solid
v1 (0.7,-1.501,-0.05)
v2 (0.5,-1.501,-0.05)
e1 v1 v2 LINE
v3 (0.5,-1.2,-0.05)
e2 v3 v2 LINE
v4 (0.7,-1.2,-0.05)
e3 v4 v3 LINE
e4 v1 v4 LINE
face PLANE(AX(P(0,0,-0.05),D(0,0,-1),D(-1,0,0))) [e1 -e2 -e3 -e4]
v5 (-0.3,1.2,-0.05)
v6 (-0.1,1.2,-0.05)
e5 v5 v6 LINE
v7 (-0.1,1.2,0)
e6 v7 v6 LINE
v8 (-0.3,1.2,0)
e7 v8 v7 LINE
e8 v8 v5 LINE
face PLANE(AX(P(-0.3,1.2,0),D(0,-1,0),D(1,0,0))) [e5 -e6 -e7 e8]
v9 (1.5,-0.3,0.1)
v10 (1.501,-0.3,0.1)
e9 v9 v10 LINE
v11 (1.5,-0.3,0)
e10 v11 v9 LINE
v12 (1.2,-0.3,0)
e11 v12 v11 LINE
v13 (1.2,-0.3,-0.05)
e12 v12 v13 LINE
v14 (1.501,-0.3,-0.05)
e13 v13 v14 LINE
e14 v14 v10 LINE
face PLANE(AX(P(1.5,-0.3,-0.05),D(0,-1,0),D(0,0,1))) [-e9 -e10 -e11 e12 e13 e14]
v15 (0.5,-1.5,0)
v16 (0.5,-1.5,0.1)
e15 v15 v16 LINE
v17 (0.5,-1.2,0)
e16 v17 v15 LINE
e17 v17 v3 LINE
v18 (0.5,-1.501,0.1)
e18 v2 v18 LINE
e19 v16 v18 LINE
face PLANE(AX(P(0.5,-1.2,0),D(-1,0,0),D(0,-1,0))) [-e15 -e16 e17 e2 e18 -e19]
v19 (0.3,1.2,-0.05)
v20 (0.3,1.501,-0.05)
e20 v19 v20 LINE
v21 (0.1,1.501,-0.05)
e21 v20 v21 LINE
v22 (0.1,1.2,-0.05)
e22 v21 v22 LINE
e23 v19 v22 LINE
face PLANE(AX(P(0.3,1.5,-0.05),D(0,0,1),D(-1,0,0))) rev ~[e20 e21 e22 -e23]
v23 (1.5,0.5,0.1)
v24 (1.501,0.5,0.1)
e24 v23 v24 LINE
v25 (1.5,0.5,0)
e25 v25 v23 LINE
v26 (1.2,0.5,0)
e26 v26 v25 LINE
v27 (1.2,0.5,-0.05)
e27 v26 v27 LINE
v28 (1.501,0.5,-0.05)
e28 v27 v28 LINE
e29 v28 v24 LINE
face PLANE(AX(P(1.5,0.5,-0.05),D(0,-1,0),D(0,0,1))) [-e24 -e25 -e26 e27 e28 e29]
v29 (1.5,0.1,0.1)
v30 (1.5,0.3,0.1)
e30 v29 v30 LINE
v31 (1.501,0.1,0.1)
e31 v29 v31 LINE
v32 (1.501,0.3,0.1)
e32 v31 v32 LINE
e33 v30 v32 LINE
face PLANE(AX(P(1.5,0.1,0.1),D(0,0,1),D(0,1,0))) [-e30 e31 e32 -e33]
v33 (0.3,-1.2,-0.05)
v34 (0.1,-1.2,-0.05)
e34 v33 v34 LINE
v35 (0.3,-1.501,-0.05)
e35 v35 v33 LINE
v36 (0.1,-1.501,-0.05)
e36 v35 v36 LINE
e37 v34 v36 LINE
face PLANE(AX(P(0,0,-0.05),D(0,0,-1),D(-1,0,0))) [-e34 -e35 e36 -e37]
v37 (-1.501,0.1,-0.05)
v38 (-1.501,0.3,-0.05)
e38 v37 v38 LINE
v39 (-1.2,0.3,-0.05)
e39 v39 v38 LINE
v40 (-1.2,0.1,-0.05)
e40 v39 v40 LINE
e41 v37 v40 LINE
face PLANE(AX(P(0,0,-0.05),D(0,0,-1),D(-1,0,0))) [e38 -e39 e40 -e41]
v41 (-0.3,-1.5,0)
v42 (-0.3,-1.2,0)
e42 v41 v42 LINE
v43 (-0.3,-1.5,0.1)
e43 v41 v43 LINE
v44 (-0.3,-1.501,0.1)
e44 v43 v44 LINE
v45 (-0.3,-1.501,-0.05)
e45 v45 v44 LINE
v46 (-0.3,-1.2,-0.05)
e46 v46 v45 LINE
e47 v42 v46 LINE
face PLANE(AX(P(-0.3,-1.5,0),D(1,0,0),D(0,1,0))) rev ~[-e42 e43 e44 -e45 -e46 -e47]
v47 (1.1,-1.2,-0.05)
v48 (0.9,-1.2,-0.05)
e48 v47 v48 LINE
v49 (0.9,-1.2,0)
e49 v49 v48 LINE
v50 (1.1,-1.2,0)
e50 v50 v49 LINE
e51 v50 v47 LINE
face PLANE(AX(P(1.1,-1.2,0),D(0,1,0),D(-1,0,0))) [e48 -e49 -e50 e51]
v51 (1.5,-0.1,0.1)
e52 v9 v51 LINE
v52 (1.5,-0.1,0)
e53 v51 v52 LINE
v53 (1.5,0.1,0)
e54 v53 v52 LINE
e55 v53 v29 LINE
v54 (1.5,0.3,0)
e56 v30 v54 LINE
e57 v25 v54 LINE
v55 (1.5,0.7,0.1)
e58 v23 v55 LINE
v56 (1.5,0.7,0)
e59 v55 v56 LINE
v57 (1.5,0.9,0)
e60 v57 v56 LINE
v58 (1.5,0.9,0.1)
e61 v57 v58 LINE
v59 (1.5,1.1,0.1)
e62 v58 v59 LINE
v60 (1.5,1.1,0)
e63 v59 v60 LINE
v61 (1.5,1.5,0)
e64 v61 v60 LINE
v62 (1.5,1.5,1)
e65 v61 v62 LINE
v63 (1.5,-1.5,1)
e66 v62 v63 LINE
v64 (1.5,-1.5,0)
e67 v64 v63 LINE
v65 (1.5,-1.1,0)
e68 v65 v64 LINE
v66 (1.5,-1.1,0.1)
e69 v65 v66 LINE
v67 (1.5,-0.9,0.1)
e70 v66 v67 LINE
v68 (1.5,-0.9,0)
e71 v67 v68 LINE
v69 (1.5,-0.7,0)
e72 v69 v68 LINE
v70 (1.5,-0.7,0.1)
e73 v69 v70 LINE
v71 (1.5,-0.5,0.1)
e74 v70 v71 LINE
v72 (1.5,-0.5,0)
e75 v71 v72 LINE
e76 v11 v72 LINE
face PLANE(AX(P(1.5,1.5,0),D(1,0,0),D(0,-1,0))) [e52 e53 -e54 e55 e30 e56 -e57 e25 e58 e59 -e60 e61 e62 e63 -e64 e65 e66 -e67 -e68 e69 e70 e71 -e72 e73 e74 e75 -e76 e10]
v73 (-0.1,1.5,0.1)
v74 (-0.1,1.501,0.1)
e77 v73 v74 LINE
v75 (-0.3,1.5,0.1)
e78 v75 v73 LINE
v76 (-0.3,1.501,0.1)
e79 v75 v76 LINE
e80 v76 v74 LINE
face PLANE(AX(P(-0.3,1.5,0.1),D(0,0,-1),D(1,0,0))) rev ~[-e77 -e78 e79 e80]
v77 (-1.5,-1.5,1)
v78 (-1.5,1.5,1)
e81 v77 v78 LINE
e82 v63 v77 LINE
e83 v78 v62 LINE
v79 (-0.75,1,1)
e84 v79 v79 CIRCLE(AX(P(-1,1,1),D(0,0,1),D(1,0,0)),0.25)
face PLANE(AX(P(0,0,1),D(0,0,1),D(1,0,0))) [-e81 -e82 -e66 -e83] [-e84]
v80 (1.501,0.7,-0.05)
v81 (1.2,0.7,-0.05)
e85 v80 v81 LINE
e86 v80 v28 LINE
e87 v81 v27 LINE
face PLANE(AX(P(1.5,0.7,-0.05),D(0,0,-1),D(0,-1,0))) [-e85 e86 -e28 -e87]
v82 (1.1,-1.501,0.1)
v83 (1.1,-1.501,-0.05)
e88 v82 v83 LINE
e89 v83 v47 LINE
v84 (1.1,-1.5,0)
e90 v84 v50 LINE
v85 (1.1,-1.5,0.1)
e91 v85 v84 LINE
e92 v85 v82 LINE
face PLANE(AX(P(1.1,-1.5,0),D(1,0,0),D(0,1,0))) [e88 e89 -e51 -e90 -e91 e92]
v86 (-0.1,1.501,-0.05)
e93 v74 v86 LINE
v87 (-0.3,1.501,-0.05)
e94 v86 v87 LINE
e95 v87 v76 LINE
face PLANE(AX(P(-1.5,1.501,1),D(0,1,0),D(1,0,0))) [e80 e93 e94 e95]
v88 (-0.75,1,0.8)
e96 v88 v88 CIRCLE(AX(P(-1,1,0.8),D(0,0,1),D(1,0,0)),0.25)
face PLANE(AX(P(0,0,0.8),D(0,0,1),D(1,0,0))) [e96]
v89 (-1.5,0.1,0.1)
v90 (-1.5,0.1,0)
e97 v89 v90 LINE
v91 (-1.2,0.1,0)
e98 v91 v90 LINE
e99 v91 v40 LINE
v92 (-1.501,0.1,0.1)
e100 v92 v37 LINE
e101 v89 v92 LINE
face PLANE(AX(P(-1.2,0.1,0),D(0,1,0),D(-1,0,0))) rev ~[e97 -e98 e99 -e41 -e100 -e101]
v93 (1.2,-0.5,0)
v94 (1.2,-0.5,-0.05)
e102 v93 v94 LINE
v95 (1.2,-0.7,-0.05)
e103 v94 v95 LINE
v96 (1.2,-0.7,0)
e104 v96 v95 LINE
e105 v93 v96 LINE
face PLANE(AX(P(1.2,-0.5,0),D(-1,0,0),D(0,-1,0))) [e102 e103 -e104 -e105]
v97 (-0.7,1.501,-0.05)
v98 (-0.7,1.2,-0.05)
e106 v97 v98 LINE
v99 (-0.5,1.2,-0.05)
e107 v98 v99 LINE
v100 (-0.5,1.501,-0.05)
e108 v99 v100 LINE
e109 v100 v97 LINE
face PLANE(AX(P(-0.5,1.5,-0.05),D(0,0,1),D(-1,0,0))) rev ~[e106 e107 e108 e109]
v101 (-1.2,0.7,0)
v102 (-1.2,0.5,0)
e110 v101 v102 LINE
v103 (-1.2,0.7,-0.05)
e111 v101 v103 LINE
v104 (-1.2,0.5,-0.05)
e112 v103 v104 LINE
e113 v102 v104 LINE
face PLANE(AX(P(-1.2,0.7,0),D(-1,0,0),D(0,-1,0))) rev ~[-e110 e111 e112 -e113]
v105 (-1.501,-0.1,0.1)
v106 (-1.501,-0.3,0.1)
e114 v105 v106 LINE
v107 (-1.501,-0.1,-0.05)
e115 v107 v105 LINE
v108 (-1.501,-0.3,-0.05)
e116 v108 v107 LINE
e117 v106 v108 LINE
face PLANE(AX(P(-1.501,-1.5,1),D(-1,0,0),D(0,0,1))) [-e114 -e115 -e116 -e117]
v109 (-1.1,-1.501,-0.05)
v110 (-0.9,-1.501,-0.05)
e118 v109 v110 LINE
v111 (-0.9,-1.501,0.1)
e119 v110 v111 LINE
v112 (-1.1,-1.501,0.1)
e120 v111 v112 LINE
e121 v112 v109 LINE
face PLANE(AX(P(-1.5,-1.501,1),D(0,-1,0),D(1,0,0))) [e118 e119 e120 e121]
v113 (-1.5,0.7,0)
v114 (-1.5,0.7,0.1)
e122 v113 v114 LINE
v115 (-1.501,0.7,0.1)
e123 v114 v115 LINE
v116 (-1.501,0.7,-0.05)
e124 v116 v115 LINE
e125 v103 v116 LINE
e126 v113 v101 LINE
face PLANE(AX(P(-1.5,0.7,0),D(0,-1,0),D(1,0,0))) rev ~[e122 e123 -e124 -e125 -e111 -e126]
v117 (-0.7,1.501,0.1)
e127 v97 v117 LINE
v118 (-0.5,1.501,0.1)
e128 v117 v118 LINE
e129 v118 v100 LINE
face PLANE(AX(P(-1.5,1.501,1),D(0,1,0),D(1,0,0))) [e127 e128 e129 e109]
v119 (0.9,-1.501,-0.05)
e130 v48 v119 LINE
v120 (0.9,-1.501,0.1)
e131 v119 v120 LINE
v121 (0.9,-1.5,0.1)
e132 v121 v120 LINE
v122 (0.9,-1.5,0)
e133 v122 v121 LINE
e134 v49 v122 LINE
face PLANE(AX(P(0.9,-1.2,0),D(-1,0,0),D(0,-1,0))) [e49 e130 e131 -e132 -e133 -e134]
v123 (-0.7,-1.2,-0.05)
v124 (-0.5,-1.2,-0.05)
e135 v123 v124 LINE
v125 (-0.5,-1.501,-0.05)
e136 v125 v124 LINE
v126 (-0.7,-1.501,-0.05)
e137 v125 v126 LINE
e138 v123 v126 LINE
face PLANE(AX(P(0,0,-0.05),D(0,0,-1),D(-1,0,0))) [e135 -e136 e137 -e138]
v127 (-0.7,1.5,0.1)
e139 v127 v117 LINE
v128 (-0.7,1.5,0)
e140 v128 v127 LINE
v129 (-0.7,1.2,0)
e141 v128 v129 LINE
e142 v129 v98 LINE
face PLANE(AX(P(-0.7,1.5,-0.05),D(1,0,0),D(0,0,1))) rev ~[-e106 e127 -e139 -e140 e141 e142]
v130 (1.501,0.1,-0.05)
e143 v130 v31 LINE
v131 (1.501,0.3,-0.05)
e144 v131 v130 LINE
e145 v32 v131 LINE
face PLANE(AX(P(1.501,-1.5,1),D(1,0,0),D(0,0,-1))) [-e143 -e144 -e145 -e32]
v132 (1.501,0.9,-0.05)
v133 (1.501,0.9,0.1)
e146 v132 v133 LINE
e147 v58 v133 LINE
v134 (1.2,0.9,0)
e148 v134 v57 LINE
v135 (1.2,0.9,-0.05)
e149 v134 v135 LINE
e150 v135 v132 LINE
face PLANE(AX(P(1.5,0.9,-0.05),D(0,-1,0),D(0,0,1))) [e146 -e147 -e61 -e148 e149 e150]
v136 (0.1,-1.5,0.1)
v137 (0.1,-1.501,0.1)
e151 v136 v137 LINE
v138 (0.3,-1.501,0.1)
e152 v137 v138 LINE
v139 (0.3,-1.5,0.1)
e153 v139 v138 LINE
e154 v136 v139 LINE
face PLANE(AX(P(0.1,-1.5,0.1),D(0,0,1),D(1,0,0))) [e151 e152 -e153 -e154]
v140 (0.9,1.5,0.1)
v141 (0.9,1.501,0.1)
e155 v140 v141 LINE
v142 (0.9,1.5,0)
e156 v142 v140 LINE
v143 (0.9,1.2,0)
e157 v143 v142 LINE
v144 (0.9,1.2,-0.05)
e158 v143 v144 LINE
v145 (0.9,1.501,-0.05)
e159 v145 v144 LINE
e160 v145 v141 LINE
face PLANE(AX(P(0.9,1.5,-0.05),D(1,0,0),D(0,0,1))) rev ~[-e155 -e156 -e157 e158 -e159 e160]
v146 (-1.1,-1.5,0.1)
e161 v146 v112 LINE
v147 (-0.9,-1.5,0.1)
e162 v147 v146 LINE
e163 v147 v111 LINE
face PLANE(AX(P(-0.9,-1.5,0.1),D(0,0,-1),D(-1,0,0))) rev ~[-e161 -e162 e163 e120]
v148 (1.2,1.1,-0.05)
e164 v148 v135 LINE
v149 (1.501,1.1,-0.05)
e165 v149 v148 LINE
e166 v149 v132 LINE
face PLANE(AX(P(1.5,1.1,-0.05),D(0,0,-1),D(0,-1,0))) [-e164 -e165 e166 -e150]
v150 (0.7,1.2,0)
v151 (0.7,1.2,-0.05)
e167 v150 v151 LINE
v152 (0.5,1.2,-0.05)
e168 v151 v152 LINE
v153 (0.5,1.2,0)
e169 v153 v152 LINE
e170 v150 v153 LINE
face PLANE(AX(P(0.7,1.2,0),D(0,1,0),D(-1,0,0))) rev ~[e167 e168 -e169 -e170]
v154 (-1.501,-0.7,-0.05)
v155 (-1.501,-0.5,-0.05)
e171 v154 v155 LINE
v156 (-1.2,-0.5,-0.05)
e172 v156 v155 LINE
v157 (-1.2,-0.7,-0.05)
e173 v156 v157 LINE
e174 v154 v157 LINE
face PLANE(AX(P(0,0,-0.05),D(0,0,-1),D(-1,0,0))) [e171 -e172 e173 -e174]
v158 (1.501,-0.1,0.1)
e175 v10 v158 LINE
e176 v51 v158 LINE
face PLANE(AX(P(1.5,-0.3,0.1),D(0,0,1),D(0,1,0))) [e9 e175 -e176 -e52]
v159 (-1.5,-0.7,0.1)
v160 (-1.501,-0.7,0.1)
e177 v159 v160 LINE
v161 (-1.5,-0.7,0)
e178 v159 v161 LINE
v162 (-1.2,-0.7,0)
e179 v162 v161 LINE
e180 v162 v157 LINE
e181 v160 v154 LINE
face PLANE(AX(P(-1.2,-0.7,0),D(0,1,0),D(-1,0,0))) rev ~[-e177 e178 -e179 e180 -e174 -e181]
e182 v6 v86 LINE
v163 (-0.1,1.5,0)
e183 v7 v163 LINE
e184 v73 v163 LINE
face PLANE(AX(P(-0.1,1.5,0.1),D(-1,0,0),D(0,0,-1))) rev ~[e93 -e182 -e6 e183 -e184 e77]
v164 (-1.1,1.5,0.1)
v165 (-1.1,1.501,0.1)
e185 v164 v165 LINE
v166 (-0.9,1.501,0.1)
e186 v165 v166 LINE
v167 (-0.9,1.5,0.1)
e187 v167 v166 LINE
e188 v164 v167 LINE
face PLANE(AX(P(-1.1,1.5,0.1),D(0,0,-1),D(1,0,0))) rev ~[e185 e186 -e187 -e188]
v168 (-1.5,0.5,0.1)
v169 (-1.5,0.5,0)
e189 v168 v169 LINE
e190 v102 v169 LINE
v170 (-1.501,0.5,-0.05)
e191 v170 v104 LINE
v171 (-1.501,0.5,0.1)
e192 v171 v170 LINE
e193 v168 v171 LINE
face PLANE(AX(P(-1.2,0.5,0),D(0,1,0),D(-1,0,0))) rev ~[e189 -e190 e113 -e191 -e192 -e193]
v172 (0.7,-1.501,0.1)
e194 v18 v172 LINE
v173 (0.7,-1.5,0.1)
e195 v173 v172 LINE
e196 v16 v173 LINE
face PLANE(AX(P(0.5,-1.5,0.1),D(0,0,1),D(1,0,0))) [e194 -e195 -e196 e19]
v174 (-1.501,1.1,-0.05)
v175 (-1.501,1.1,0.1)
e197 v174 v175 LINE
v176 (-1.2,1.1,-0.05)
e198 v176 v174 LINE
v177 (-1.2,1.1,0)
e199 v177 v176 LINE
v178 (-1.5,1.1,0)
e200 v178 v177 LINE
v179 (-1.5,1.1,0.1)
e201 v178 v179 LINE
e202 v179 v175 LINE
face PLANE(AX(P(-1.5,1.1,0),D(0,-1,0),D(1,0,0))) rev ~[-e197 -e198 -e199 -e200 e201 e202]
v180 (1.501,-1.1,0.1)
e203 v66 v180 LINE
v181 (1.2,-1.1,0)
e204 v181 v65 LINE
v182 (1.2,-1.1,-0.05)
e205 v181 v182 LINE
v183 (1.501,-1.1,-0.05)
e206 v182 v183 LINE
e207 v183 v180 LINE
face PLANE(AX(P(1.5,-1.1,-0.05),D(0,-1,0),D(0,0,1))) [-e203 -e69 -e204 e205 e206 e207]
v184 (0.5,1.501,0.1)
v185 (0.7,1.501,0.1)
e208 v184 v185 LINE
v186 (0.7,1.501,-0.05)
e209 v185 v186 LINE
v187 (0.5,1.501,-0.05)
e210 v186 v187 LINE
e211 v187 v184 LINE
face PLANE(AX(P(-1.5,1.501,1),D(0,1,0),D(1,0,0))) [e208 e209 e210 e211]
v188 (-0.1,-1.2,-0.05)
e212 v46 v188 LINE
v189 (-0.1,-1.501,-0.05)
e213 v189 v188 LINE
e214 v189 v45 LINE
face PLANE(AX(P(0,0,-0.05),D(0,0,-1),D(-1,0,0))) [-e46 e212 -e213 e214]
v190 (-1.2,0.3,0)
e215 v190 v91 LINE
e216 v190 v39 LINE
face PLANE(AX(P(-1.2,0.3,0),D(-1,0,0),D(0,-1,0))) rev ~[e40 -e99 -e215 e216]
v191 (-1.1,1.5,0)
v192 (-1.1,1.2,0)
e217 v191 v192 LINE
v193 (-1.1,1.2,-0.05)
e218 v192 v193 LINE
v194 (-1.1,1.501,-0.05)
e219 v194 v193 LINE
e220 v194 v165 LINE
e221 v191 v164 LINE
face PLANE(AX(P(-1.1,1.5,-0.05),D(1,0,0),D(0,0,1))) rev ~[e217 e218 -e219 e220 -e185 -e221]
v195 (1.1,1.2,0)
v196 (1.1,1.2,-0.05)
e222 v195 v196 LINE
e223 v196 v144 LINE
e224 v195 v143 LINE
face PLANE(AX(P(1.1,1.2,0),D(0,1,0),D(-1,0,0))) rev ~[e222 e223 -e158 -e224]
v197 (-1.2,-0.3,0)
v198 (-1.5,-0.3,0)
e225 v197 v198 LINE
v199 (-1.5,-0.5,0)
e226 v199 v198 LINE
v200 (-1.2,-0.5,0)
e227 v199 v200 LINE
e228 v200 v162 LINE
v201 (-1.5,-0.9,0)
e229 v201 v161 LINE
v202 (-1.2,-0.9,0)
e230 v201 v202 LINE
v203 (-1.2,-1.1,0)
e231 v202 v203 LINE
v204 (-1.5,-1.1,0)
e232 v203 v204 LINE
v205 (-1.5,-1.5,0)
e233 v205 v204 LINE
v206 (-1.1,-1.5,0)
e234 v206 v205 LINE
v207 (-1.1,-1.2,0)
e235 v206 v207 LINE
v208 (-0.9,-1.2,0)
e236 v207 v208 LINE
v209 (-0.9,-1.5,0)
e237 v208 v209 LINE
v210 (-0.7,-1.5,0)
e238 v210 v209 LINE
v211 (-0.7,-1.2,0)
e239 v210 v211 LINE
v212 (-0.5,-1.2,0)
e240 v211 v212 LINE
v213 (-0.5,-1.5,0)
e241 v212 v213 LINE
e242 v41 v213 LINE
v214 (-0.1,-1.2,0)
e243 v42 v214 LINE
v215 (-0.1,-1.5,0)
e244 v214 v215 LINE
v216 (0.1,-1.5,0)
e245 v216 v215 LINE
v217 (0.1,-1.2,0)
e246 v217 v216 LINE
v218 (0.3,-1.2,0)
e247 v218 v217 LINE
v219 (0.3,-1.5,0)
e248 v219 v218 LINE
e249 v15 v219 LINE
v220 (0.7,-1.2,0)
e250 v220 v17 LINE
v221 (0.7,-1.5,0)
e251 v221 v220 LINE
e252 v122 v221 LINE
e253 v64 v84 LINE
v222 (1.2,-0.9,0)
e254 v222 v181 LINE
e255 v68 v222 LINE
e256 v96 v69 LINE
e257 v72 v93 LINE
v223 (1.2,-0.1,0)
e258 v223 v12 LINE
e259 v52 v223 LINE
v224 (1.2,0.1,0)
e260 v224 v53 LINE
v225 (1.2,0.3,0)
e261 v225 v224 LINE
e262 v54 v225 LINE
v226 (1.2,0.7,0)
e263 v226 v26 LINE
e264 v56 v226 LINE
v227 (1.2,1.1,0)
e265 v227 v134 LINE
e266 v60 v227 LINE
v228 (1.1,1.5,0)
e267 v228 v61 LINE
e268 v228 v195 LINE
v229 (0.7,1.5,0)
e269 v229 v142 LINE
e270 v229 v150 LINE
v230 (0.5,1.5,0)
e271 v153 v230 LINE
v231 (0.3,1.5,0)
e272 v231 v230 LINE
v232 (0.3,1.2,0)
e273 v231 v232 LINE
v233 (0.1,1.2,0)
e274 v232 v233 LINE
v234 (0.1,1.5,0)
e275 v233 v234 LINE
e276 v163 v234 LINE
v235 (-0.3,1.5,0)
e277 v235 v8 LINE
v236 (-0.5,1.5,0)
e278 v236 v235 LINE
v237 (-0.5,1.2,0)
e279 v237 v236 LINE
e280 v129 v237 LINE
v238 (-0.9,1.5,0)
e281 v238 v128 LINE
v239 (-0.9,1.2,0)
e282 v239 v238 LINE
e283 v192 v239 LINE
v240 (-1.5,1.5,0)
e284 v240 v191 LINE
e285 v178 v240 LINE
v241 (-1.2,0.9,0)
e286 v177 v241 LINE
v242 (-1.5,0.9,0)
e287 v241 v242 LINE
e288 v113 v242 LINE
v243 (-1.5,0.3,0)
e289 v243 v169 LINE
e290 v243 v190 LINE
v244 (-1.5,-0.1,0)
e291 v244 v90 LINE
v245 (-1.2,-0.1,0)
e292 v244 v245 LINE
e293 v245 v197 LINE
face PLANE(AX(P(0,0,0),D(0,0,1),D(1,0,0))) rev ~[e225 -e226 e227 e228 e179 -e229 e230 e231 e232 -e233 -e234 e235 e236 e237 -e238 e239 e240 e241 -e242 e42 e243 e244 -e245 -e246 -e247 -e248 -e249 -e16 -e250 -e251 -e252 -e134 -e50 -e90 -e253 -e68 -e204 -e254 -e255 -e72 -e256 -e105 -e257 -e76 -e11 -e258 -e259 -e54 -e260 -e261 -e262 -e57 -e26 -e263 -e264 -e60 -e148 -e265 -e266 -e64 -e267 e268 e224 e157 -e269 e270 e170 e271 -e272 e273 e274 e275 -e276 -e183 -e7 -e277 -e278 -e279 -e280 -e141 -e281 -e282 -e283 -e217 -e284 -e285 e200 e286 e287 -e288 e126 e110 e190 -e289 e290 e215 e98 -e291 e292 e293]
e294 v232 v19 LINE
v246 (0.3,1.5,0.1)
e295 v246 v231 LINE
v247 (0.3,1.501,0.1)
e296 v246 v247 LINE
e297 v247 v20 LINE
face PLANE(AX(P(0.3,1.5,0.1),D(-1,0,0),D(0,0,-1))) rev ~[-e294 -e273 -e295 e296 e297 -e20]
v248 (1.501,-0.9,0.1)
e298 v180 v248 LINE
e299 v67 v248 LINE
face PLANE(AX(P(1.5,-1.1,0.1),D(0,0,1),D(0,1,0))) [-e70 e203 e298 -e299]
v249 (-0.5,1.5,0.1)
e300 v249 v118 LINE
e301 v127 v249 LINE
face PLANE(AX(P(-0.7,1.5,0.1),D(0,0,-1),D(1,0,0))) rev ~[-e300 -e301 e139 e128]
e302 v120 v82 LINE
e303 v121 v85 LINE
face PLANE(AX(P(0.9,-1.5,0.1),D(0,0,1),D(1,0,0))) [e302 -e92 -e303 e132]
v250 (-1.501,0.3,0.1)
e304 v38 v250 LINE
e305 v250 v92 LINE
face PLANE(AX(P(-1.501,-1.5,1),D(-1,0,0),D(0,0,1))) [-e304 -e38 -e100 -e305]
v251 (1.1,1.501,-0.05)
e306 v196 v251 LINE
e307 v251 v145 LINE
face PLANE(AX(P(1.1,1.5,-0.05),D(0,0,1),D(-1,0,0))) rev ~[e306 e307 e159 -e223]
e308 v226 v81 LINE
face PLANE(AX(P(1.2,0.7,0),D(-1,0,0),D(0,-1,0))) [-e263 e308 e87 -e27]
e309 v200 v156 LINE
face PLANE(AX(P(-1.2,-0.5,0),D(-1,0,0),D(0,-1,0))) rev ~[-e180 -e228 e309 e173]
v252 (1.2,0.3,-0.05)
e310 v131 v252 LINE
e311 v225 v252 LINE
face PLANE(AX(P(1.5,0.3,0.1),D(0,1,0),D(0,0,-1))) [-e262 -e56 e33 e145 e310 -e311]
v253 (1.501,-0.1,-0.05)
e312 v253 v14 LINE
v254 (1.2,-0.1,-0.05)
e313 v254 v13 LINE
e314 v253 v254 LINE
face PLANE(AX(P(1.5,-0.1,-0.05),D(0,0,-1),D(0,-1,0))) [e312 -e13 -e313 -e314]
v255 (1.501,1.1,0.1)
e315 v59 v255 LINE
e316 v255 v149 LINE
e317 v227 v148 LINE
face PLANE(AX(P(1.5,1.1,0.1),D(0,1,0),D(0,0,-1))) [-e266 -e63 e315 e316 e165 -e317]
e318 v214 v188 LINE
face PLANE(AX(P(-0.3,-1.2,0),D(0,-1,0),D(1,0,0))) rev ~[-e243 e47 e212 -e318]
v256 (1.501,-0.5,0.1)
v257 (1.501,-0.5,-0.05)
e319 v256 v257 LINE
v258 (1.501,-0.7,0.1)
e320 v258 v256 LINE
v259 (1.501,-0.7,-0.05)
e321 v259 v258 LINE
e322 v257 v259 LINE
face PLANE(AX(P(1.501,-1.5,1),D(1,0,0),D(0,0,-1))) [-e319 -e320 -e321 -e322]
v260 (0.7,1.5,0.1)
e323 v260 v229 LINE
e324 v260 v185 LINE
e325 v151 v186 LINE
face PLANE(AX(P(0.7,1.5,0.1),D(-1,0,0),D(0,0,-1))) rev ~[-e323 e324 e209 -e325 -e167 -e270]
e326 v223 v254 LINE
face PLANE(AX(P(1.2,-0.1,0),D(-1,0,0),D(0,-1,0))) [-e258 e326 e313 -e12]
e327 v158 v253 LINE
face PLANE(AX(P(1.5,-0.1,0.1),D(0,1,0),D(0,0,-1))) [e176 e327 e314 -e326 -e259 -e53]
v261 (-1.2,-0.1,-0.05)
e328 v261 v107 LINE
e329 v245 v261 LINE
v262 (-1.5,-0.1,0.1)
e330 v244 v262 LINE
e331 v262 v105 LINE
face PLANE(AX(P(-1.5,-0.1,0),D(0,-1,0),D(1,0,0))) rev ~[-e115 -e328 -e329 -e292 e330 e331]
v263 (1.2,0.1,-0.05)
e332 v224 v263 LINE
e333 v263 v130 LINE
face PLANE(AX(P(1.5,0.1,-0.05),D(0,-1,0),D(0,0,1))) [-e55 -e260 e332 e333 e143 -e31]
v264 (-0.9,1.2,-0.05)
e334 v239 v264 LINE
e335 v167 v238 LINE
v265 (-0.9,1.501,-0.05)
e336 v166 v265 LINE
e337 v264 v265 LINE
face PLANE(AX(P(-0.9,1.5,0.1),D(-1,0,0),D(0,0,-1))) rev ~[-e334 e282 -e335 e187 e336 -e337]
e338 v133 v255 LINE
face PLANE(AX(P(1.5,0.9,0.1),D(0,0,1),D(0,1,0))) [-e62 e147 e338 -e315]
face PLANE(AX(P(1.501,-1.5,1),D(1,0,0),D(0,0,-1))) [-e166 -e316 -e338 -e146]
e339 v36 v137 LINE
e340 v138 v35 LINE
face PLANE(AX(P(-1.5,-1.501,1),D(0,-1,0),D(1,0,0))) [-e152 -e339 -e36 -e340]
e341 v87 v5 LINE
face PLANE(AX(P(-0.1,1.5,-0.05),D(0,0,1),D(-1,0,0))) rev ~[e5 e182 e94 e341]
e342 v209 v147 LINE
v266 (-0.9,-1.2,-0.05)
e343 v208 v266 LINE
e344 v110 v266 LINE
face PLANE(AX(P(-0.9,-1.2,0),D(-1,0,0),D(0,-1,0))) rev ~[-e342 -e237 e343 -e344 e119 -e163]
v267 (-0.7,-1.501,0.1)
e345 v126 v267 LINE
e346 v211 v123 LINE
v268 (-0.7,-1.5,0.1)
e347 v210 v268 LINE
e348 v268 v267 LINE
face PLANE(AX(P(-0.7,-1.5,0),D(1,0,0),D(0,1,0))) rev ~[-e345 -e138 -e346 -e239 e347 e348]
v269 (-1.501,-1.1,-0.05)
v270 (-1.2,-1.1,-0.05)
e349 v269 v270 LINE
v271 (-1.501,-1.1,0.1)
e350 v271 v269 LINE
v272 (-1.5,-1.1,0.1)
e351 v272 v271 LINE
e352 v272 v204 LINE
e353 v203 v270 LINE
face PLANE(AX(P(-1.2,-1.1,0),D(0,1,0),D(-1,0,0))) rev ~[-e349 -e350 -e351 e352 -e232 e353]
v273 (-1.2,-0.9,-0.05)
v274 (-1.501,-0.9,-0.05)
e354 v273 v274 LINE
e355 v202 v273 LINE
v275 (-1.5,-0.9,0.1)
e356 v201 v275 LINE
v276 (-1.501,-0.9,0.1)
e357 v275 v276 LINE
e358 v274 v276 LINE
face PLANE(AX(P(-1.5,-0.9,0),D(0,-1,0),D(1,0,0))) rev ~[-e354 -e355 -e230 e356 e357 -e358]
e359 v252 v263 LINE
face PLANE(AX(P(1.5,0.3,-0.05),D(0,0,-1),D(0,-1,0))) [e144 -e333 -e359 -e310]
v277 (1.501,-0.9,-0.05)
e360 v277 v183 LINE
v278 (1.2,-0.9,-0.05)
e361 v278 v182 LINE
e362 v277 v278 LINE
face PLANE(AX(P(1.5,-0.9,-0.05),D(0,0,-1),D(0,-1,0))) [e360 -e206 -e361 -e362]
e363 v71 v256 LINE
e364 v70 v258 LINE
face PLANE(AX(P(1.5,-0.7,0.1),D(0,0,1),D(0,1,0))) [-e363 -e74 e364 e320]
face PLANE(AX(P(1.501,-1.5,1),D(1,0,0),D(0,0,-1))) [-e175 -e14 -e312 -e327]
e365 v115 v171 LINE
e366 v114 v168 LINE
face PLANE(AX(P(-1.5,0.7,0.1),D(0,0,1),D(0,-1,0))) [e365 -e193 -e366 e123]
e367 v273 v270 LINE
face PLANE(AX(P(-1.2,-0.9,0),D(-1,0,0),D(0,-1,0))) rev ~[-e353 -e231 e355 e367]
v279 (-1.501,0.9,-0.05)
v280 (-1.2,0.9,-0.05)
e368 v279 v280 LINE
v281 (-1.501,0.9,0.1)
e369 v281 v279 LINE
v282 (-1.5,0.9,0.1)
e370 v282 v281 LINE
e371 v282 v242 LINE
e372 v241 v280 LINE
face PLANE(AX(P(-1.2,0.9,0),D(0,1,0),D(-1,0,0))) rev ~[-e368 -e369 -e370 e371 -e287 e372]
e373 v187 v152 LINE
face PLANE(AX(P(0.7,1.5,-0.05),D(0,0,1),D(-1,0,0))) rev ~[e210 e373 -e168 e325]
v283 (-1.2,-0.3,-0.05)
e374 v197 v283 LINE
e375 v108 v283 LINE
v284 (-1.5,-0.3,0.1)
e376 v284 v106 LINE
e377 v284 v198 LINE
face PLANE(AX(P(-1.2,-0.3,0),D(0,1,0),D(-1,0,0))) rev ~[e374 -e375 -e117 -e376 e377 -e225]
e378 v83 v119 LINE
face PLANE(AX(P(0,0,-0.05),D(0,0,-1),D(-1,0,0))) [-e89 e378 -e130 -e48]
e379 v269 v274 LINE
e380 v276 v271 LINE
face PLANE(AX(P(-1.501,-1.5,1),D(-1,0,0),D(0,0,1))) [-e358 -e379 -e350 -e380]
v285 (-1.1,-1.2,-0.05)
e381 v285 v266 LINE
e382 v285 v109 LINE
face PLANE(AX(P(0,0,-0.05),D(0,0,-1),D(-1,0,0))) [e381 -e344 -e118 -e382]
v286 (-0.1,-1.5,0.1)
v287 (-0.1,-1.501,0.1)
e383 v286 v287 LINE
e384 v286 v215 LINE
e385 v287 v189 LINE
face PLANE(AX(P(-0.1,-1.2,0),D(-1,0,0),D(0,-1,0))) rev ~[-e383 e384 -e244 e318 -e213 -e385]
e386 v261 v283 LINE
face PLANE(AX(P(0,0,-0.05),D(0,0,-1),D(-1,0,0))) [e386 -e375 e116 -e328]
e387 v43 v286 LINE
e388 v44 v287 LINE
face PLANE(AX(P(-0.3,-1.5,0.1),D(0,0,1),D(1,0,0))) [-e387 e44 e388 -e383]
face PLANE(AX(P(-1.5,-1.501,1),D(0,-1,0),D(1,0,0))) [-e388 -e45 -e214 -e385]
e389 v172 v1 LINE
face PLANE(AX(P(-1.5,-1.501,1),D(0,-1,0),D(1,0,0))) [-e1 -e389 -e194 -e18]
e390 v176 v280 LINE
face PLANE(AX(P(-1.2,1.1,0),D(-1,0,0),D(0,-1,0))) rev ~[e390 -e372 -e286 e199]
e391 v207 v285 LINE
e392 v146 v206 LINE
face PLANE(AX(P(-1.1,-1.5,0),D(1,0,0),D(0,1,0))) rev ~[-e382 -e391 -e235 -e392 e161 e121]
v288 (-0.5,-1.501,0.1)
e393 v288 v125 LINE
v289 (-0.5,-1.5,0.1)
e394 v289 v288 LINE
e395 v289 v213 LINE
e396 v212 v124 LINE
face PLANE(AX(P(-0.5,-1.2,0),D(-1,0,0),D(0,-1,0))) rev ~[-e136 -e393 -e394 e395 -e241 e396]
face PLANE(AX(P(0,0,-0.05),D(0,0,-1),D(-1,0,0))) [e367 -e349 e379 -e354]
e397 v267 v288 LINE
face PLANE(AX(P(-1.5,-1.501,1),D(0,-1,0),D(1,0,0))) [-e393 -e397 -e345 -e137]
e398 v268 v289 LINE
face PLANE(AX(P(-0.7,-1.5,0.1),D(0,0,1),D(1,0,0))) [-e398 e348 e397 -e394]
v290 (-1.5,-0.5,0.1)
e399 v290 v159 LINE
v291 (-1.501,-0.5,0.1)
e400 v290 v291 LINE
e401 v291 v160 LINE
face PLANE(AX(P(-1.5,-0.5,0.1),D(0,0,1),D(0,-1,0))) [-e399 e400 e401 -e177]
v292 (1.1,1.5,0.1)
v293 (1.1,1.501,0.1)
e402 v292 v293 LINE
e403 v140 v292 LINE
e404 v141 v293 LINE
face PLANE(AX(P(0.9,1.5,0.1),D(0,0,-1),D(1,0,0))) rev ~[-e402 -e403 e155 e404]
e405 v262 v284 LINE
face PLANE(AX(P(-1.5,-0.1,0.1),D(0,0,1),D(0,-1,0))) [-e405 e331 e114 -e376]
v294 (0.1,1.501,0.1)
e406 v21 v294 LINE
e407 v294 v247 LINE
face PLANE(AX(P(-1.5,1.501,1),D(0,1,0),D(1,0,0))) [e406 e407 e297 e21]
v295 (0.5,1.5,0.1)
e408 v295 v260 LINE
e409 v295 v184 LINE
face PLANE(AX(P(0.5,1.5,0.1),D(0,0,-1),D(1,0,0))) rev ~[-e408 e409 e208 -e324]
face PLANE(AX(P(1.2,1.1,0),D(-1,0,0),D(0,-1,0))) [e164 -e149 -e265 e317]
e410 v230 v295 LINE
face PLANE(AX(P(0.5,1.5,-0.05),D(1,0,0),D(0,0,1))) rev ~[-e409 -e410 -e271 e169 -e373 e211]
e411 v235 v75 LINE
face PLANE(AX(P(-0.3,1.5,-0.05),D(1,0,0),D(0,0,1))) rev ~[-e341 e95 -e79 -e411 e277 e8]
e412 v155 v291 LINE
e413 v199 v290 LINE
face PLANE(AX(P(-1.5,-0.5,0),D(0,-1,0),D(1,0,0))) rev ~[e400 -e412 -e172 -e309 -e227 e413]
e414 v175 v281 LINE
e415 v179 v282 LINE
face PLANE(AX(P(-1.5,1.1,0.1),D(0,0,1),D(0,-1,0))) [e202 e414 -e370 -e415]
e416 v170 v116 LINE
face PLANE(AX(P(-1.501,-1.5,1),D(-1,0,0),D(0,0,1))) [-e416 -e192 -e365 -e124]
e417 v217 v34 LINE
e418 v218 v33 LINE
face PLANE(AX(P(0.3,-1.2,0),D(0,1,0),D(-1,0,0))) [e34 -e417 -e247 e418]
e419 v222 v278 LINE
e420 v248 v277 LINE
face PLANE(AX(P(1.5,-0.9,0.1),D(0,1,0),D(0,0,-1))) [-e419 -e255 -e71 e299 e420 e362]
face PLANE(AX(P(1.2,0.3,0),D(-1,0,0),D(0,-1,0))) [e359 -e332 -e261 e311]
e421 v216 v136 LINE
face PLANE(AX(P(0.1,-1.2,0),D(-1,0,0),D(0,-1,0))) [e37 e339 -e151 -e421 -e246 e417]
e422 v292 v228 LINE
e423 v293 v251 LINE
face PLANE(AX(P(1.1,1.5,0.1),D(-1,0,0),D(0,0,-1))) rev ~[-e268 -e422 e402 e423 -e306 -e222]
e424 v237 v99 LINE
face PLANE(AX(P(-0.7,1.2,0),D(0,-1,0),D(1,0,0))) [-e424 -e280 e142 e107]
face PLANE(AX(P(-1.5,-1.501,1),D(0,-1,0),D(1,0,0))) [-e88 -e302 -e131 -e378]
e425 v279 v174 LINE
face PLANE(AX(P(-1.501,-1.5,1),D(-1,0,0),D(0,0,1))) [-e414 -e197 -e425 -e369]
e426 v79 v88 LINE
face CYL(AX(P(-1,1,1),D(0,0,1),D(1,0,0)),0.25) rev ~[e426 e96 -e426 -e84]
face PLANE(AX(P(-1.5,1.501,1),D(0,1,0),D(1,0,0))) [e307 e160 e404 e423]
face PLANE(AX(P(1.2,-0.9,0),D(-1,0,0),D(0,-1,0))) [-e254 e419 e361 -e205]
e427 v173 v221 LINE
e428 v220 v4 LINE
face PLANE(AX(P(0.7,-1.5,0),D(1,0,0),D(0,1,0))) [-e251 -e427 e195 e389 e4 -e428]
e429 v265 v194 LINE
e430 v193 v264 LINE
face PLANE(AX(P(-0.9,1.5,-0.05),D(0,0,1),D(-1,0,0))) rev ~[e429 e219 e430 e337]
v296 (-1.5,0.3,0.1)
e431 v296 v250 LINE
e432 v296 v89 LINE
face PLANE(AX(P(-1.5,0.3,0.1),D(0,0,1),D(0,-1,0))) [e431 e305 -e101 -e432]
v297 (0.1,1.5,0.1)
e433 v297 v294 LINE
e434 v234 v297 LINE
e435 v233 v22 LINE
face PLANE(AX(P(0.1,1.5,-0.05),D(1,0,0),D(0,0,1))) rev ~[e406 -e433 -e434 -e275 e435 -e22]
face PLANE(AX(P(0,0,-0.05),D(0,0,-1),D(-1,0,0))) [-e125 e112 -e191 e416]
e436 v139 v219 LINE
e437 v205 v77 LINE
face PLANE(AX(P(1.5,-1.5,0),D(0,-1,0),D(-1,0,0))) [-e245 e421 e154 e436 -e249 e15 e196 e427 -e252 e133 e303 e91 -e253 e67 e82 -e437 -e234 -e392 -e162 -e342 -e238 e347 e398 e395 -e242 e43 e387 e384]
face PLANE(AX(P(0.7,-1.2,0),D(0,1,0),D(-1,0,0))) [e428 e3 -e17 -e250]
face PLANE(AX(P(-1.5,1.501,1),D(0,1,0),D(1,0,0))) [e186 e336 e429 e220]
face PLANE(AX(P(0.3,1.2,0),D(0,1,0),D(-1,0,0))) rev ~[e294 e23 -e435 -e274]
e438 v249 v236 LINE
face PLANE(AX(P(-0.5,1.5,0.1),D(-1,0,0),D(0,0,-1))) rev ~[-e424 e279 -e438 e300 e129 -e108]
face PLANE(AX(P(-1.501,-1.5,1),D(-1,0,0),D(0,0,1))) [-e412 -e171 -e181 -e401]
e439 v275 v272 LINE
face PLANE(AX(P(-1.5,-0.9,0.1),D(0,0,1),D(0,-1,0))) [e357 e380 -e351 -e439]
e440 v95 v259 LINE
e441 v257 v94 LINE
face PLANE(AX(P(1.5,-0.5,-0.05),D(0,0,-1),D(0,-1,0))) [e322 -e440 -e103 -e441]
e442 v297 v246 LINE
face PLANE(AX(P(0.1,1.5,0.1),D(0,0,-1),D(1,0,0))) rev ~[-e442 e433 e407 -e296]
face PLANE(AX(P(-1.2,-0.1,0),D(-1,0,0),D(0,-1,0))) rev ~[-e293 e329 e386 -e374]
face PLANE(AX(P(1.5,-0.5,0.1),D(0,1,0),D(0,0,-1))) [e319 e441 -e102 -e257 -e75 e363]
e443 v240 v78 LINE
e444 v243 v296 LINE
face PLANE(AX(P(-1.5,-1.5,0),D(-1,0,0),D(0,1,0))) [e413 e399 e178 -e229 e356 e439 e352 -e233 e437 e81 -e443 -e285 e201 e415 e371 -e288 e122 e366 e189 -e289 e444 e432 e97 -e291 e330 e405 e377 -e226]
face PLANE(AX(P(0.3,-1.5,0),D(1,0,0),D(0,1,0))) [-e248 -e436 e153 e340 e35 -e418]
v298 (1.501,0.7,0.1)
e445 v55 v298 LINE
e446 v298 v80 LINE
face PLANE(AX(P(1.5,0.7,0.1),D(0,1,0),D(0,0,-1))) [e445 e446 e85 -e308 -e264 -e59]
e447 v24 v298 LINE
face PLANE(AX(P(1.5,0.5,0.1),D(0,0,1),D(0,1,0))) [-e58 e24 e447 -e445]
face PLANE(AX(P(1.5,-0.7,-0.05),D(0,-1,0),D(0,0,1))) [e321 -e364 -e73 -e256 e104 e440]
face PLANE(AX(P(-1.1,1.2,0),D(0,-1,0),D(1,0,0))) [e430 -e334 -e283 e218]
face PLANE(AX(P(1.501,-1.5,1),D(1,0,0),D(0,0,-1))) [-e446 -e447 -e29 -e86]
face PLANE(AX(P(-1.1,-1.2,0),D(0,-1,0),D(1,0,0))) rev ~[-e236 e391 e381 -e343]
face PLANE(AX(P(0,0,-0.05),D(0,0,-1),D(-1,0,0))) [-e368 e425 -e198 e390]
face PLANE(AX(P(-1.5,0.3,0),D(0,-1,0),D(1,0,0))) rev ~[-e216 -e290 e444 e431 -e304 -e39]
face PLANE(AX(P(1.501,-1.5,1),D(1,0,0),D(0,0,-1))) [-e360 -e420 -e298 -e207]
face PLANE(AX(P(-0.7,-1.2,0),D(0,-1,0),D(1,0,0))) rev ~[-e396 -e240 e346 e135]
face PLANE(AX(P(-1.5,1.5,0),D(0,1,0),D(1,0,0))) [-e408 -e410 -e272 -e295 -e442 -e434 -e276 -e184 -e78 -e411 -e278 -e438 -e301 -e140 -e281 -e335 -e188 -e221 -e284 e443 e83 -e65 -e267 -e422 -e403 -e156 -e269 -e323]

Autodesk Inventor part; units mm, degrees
ref_plane "YZ Plane" through (0, 0, 0) normal (1, 0, 0) x (0, 1, 0)
ref_plane "XZ Plane" through (0, 0, 0) normal (0, 1, 0) x (-1, 0, 0)
ref_plane "XY Plane" through (0, 0, 0) normal (0, 0, 1) x (1, 0, 0)
sketch "Эскиз1" plane through (0, 0, 0) normal (0, 0, 1) x (1, 0, 0)
  line L0 (-1.5, 1.5) -> (1.5, 1.5)
  line L1 (1.5, 1.5) -> (1.5, -1.5)
  line L2 (1.5, -1.5) -> (-1.5, -1.5)
  line L3 (-1.5, -1.5) -> (-1.5, 1.5)
  line L4 (-1.5, 1.5) -> (1.5, -1.5) construction
  line L5 (1.5, 1.5) -> (-1.5, -1.5) construction
  point P0 (0, 0)
  point P1 (0, 0)
  dimension "d0" = 3
extrude "Выдавливание1" add sketch "Эскиз1" along normal blind 1
sketch "Эскиз2" plane through (0, 0, 1) normal (0, 0, 1) x (1, 0, 0)
  line L0 (1.5, 1.5) -> (-1.5, 1.5) projected
  line L1 (-1.5, 1.5) -> (-1.5, -1.5) projected
  circle A0 centre (-1, 1) radius 0.25
  point P0 (0, 0)
  dimension "d3" = 0.5
  dimension "d4" = 0.5
  dimension "d5" = 0.5
extrude "Выдавливание2" cut sketch "Эскиз2" against normal blind 0.2
sketch "Эскиз3" plane through (0, 0, 0) normal (0, 0, -1) x (-1, 0, 0)
  line L0 (1.5, 1.5) -> (-1.5, 1.5) projected
  line L1 (-1.5, 1.5) -> (-1.5, -1.5) projected
  line L2 (-1.5, -1.5) -> (1.5, -1.5) projected
  line L3 (1.5, -1.5) -> (1.5, 1.5) projected
  line L4 (-1.5, 0) -> (1.5, 0) construction
  line L5 (0, 1.5) -> (0, -1.5) construction
  line L6 (-1.5, 0.3) -> (-1.2, 0.3)
  line L7 (-1.2, 0.3) -> (-1.2, 0.1)
  line L8 (-1.2, 0.1) -> (-1.5, 0.1)
  line L9 (-1.5, 0.1) -> (-1.5, 0.3)
  line L10 (-1.5, 1.1) -> (-1.2, 1.1)
  line L11 (-1.2, 1.1) -> (-1.2, 0.9)
  line L12 (-1.2, 0.9) -> (-1.5, 0.9)
  line L13 (-1.5, 0.9) -> (-1.5, 1.1)
  line L14 (-1.5, 0.7) -> (-1.2, 0.7)
  line L15 (-1.2, 0.7) -> (-1.2, 0.5)
  line L16 (-1.2, 0.5) -> (-1.5, 0.5)
  line L17 (-1.5, 0.5) -> (-1.5, 0.7)
  line L18 (-1.5, -0.1) -> (-1.2, -0.1)
  line L19 (-1.2, -0.1) -> (-1.2, -0.3)
  line L20 (-1.2, -0.3) -> (-1.5, -0.3)
  line L21 (-1.5, -0.3) -> (-1.5, -0.1)
  line L22 (-1.5, -0.5) -> (-1.2, -0.5)
  line L23 (-1.2, -0.5) -> (-1.2, -0.7)
  line L24 (-1.2, -0.7) -> (-1.5, -0.7)
  line L25 (-1.5, -0.7) -> (-1.5, -0.5)
  line L26 (-1.5, -0.9) -> (-1.2, -0.9)
  line L27 (-1.2, -0.9) -> (-1.2, -1.1)
  line L28 (-1.2, -1.1) -> (-1.5, -1.1)
  line L29 (-1.5, -1.1) -> (-1.5, -0.9)
  line L30 (1.5, 0.3) -> (1.2, 0.3)
  line L31 (1.2, 0.3) -> (1.2, 0.1)
  line L32 (1.2, 0.1) -> (1.5, 0.1)
  line L33 (1.5, 0.1) -> (1.5, 0.3)
  line L34 (1.5, 1.1) -> (1.2, 1.1)
  line L35 (1.2, 1.1) -> (1.2, 0.9)
  line L36 (1.2, 0.9) -> (1.5, 0.9)
  line L37 (1.5, 0.9) -> (1.5, 1.1)
  line L38 (1.5, 0.7) -> (1.2, 0.7)
  line L39 (1.2, 0.7) -> (1.2, 0.5)
  line L40 (1.2, 0.5) -> (1.5, 0.5)
  line L41 (1.5, 0.5) -> (1.5, 0.7)
  line L42 (1.5, -0.1) -> (1.2, -0.1)
  line L43 (1.2, -0.1) -> (1.2, -0.3)
  line L44 (1.2, -0.3) -> (1.5, -0.3)
  line L45 (1.5, -0.3) -> (1.5, -0.1)
  line L46 (1.5, -0.5) -> (1.2, -0.5)
  line L47 (1.2, -0.5) -> (1.2, -0.7)
  line L48 (1.2, -0.7) -> (1.5, -0.7)
  line L49 (1.5, -0.7) -> (1.5, -0.5)
  line L50 (1.5, -0.9) -> (1.2, -0.9)
  line L51 (1.2, -0.9) -> (1.2, -1.1)
  line L52 (1.2, -1.1) -> (1.5, -1.1)
  line L53 (1.5, -1.1) -> (1.5, -0.9)
  line L54 (0.1, 1.5) -> (0.3, 1.5)
  line L55 (0.3, 1.5) -> (0.3, 1.2)
  line L56 (0.3, 1.2) -> (0.1, 1.2)
  line L57 (0.1, 1.2) -> (0.1, 1.5)
  line L58 (0.5, 1.5) -> (0.7, 1.5)
  line L59 (0.7, 1.5) -> (0.7, 1.2)
  line L60 (0.7, 1.2) -> (0.5, 1.2)
  line L61 (0.5, 1.2) -> (0.5, 1.5)
  line L62 (0.9, 1.5) -> (1.1, 1.5)
  line L63 (1.1, 1.5) -> (1.1, 1.2)
  line L64 (1.1, 1.2) -> (0.9, 1.2)
  line L65 (0.9, 1.2) -> (0.9, 1.5)
  line L66 (-0.1, 1.5) -> (-0.3, 1.5)
  line L67 (-0.3, 1.5) -> (-0.3, 1.2)
  line L68 (-0.3, 1.2) -> (-0.1, 1.2)
  line L69 (-0.1, 1.2) -> (-0.1, 1.5)
  line L70 (-0.5, 1.5) -> (-0.7, 1.5)
  line L71 (-0.7, 1.5) -> (-0.7, 1.2)
  line L72 (-0.7, 1.2) -> (-0.5, 1.2)
  line L73 (-0.5, 1.2) -> (-0.5, 1.5)
  line L74 (-0.9, 1.5) -> (-1.1, 1.5)
  line L75 (-1.1, 1.5) -> (-1.1, 1.2)
  line L76 (-1.1, 1.2) -> (-0.9, 1.2)
  line L77 (-0.9, 1.2) -> (-0.9, 1.5)
  line L78 (0.1, -1.5) -> (0.3, -1.5)
  line L79 (0.3, -1.5) -> (0.3, -1.2)
  line L80 (0.3, -1.2) -> (0.1, -1.2)
  line L81 (0.1, -1.2) -> (0.1, -1.5)
  line L82 (0.5, -1.5) -> (0.7, -1.5)
  line L83 (0.7, -1.5) -> (0.7, -1.2)
  line L84 (0.7, -1.2) -> (0.5, -1.2)
  line L85 (0.5, -1.2) -> (0.5, -1.5)
  line L86 (0.9, -1.5) -> (1.1, -1.5)
  line L87 (1.1, -1.5) -> (1.1, -1.2)
  line L88 (1.1, -1.2) -> (0.9, -1.2)
  line L89 (0.9, -1.2) -> (0.9, -1.5)
  line L90 (-1.1, -1.2) -> (-0.9, -1.2)
  line L91 (-1.1, -1.5) -> (-1.1, -1.2)
  line L92 (-0.9, -1.5) -> (-1.1, -1.5)
  line L93 (-0.9, -1.2) -> (-0.9, -1.5)
  line L94 (-0.7, -1.2) -> (-0.5, -1.2)
  line L95 (-0.7, -1.5) -> (-0.7, -1.2)
  line L96 (-0.5, -1.5) -> (-0.7, -1.5)
  line L97 (-0.5, -1.2) -> (-0.5, -1.5)
  line L98 (-0.3, -1.5) -> (-0.3, -1.2)
  line L99 (-0.3, -1.2) -> (-0.1, -1.2)
  line L100 (-0.1, -1.2) -> (-0.1, -1.5)
  line L101 (-0.1, -1.5) -> (-0.3, -1.5)
  point P0 (0, 0)
  dimension "d8" = 0.3
  dimension "d9" = 0.2
  dimension "d10" = 0.2
  dimension "d11" = 0.2
  dimension "d12" = 0.2
  dimension "d13" = 0.3
  dimension "d14" = 0.2
  dimension "d15" = 0.2
  dimension "d16" = 0.1
  dimension "d17" = 0.1
  dimension "d18" = 0.2
  dimension "d19" = 0.3
  dimension "d20" = 0.2
  dimension "d21" = 0.2
  dimension "d22" = 0.1
extrude "Выдавливание3" add sketch "Эскиз3" along normal blind 0.05 contours L63 L64 L65 L0 | L3 L36 L35 L34 | L59 L60 L61 L0 | L3 L40 L39 L38 | L55 L56 L57 L0 | L3 L32 L31 L30 | L69 L68 L67 L0 | L3 L44 L43 L42 | L73 L72 L71 L0 | L3 L48 L47 L46 | L77 L76 L75 L0 | L3 L52 L51 L50 | L10 L11 L12 L1 | L2 L89 L88 L87 | L14 L15 L16 L1 | L2 L85 L84 L83 | L6 L7 L8 L1 | L2 L81 L80 L79 | L18 L19 L20 L1 | L2 L98 L99 L100 | L22 L23 L24 L1 | L2 L95 L94 L97 | L26 L27 L28 L1 | L2 L91 L90 L93
sketch "Эскиз4" plane through (-1.5, -1.5, 1) normal (0, -1, 0) x (1, 0, 0)
  line L0 (0.4, -1.05) -> (0.6, -1.05)
  line L1 (0.6, -1.05) -> (0.6, -0.9)
  line L2 (0.6, -0.9) -> (0.4, -0.9)
  line L3 (0.4, -0.9) -> (0.4, -1.05)
  line L4 (1, -1.05) -> (0.8, -1.05)
  line L5 (0.8, -1.05) -> (0.8, -0.9)
  line L6 (0.8, -0.9) -> (1, -0.9)
  line L7 (1, -0.9) -> (1, -1.05)
  line L8 (1.4, -1.05) -> (1.2, -1.05)
  line L9 (1.2, -1.05) -> (1.2, -0.9)
  line L10 (1.2, -0.9) -> (1.4, -0.9)
  line L11 (1.4, -0.9) -> (1.4, -1.05)
  line L12 (1.8, -1.05) -> (1.6, -1.05)
  line L13 (1.6, -1.05) -> (1.6, -0.9)
  line L14 (1.6, -0.9) -> (1.8, -0.9)
  line L15 (1.8, -0.9) -> (1.8, -1.05)
  line L16 (2.2, -1.05) -> (2, -1.05)
  line L17 (2, -1.05) -> (2, -0.9)
  line L18 (2, -0.9) -> (2.2, -0.9)
  line L19 (2.2, -0.9) -> (2.2, -1.05)
  line L20 (2.6, -1.05) -> (2.4, -1.05)
  line L21 (2.4, -1.05) -> (2.4, -0.9)
  line L22 (2.4, -0.9) -> (2.6, -0.9)
  line L23 (2.6, -0.9) -> (2.6, -1.05)
  point P0 (1.5, -1)
  dimension "d25" = 0.15
  dimension "d26" = 0.2
extrude "Выдавливание4" add sketch "Эскиз4" along normal blind 0.001
sketch "Эскиз5" plane through (1.5, -1.5, 1) normal (1, 0, 0) x (0, 0, -1)
  line L0 (1.05, 0.4) -> (0.9, 0.4)
  line L1 (0.9, 0.4) -> (0.9, 0.6)
  line L2 (0.9, 0.6) -> (1.05, 0.6)
  line L3 (1.05, 0.6) -> (1.05, 0.4)
  line L4 (1.05, 0.8) -> (0.9, 0.8)
  line L5 (0.9, 0.8) -> (0.9, 1)
  line L6 (0.9, 1) -> (1.05, 1)
  line L7 (1.05, 1) -> (1.05, 0.8)
  line L8 (1.05, 1.2) -> (0.9, 1.2)
  line L9 (0.9, 1.2) -> (0.9, 1.4)
  line L10 (0.9, 1.4) -> (1.05, 1.4)
  line L11 (1.05, 1.4) -> (1.05, 1.2)
  line L12 (1.05, 1.6) -> (0.9, 1.6)
  line L13 (0.9, 1.6) -> (0.9, 1.8)
  line L14 (0.9, 1.8) -> (1.05, 1.8)
  line L15 (1.05, 1.8) -> (1.05, 1.6)
  line L16 (1.05, 2) -> (0.9, 2)
  line L17 (0.9, 2) -> (0.9, 2.2)
  line L18 (0.9, 2.2) -> (1.05, 2.2)
  line L19 (1.05, 2.2) -> (1.05, 2)
  line L20 (1.05, 2.4) -> (0.9, 2.4)
  line L21 (0.9, 2.4) -> (0.9, 2.6)
  line L22 (0.9, 2.6) -> (1.05, 2.6)
  line L23 (1.05, 2.6) -> (1.05, 2.4)
  point P0 (1, 1.5)
  dimension "d29" = 0.2
  dimension "d30" = 0.15
extrude "Выдавливание5" add sketch "Эскиз5" along normal blind 0.001
sketch "Эскиз6" plane through (-1.5, 1.5, 1) normal (0, 1, 0) x (1, 0, 0)
  line L0 (2.6, 1.05) -> (2.4, 1.05)
  line L1 (2.4, 1.05) -> (2.4, 0.9)
  line L2 (2.4, 0.9) -> (2.6, 0.9)
  line L3 (2.6, 0.9) -> (2.6, 1.05)
  line L4 (2.2, 1.05) -> (2, 1.05)
  line L5 (2, 1.05) -> (2, 0.9)
  line L6 (2, 0.9) -> (2.2, 0.9)
  line L7 (2.2, 0.9) -> (2.2, 1.05)
  line L8 (1.8, 1.05) -> (1.6, 1.05)
  line L9 (1.6, 1.05) -> (1.6, 0.9)
  line L10 (1.6, 0.9) -> (1.8, 0.9)
  line L11 (1.8, 0.9) -> (1.8, 1.05)
  line L12 (1.4, 1.05) -> (1.2, 1.05)
  line L13 (1.2, 1.05) -> (1.2, 0.9)
  line L14 (1.2, 0.9) -> (1.4, 0.9)
  line L15 (1.4, 0.9) -> (1.4, 1.05)
  line L16 (1, 1.05) -> (0.8, 1.05)
  line L17 (0.8, 1.05) -> (0.8, 0.9)
  line L18 (0.8, 0.9) -> (1, 0.9)
  line L19 (1, 0.9) -> (1, 1.05)
  line L20 (0.6, 1.05) -> (0.4, 1.05)
  line L21 (0.4, 1.05) -> (0.4, 0.9)
  line L22 (0.4, 0.9) -> (0.6, 0.9)
  line L23 (0.6, 0.9) -> (0.6, 1.05)
  point P0 (1.5, 1)
  dimension "d33" = 0.15
  dimension "d34" = 0.2
extrude "Выдавливание6" add sketch "Эскиз6" along normal blind 0.001
sketch "Эскиз7" plane through (-1.5, -1.5, 1) normal (-1, 0, 0) x (0, 0, 1)
  line L0 (-1.05, 2.6) -> (-0.9, 2.6)
  line L1 (-0.9, 2.6) -> (-0.9, 2.4)
  line L2 (-0.9, 2.4) -> (-1.05, 2.4)
  line L3 (-1.05, 2.4) -> (-1.05, 2.6)
  line L4 (-1.05, 2.2) -> (-0.9, 2.2)
  line L5 (-0.9, 2.2) -> (-0.9, 2)
  line L6 (-0.9, 2) -> (-1.05, 2)
  line L7 (-1.05, 2) -> (-1.05, 2.2)
  line L8 (-1.05, 1.8) -> (-0.9, 1.8)
  line L9 (-0.9, 1.8) -> (-0.9, 1.6)
  line L10 (-0.9, 1.6) -> (-1.05, 1.6)
  line L11 (-1.05, 1.6) -> (-1.05, 1.8)
  line L12 (-1.05, 1.4) -> (-0.9, 1.4)
  line L13 (-0.9, 1.4) -> (-0.9, 1.2)
  line L14 (-0.9, 1.2) -> (-1.05, 1.2)
  line L15 (-1.05, 1.2) -> (-1.05, 1.4)
  line L16 (-1.05, 1) -> (-0.9, 1)
  line L17 (-0.9, 1) -> (-0.9, 0.8)
  line L18 (-0.9, 0.8) -> (-1.05, 0.8)
  line L19 (-1.05, 0.8) -> (-1.05, 1)
  line L20 (-1.05, 0.6) -> (-0.9, 0.6)
  line L21 (-0.9, 0.6) -> (-0.9, 0.4)
  line L22 (-0.9, 0.4) -> (-1.05, 0.4)
  line L23 (-1.05, 0.4) -> (-1.05, 0.6)
  point P0 (-1, 1.5)
  dimension "d37" = 0.15
  dimension "d38" = 0.2
extrude "Выдавливание7" add sketch "Эскиз7" along normal blind 0.001
properties part number "QFN-24 3x3 0.4mm"
